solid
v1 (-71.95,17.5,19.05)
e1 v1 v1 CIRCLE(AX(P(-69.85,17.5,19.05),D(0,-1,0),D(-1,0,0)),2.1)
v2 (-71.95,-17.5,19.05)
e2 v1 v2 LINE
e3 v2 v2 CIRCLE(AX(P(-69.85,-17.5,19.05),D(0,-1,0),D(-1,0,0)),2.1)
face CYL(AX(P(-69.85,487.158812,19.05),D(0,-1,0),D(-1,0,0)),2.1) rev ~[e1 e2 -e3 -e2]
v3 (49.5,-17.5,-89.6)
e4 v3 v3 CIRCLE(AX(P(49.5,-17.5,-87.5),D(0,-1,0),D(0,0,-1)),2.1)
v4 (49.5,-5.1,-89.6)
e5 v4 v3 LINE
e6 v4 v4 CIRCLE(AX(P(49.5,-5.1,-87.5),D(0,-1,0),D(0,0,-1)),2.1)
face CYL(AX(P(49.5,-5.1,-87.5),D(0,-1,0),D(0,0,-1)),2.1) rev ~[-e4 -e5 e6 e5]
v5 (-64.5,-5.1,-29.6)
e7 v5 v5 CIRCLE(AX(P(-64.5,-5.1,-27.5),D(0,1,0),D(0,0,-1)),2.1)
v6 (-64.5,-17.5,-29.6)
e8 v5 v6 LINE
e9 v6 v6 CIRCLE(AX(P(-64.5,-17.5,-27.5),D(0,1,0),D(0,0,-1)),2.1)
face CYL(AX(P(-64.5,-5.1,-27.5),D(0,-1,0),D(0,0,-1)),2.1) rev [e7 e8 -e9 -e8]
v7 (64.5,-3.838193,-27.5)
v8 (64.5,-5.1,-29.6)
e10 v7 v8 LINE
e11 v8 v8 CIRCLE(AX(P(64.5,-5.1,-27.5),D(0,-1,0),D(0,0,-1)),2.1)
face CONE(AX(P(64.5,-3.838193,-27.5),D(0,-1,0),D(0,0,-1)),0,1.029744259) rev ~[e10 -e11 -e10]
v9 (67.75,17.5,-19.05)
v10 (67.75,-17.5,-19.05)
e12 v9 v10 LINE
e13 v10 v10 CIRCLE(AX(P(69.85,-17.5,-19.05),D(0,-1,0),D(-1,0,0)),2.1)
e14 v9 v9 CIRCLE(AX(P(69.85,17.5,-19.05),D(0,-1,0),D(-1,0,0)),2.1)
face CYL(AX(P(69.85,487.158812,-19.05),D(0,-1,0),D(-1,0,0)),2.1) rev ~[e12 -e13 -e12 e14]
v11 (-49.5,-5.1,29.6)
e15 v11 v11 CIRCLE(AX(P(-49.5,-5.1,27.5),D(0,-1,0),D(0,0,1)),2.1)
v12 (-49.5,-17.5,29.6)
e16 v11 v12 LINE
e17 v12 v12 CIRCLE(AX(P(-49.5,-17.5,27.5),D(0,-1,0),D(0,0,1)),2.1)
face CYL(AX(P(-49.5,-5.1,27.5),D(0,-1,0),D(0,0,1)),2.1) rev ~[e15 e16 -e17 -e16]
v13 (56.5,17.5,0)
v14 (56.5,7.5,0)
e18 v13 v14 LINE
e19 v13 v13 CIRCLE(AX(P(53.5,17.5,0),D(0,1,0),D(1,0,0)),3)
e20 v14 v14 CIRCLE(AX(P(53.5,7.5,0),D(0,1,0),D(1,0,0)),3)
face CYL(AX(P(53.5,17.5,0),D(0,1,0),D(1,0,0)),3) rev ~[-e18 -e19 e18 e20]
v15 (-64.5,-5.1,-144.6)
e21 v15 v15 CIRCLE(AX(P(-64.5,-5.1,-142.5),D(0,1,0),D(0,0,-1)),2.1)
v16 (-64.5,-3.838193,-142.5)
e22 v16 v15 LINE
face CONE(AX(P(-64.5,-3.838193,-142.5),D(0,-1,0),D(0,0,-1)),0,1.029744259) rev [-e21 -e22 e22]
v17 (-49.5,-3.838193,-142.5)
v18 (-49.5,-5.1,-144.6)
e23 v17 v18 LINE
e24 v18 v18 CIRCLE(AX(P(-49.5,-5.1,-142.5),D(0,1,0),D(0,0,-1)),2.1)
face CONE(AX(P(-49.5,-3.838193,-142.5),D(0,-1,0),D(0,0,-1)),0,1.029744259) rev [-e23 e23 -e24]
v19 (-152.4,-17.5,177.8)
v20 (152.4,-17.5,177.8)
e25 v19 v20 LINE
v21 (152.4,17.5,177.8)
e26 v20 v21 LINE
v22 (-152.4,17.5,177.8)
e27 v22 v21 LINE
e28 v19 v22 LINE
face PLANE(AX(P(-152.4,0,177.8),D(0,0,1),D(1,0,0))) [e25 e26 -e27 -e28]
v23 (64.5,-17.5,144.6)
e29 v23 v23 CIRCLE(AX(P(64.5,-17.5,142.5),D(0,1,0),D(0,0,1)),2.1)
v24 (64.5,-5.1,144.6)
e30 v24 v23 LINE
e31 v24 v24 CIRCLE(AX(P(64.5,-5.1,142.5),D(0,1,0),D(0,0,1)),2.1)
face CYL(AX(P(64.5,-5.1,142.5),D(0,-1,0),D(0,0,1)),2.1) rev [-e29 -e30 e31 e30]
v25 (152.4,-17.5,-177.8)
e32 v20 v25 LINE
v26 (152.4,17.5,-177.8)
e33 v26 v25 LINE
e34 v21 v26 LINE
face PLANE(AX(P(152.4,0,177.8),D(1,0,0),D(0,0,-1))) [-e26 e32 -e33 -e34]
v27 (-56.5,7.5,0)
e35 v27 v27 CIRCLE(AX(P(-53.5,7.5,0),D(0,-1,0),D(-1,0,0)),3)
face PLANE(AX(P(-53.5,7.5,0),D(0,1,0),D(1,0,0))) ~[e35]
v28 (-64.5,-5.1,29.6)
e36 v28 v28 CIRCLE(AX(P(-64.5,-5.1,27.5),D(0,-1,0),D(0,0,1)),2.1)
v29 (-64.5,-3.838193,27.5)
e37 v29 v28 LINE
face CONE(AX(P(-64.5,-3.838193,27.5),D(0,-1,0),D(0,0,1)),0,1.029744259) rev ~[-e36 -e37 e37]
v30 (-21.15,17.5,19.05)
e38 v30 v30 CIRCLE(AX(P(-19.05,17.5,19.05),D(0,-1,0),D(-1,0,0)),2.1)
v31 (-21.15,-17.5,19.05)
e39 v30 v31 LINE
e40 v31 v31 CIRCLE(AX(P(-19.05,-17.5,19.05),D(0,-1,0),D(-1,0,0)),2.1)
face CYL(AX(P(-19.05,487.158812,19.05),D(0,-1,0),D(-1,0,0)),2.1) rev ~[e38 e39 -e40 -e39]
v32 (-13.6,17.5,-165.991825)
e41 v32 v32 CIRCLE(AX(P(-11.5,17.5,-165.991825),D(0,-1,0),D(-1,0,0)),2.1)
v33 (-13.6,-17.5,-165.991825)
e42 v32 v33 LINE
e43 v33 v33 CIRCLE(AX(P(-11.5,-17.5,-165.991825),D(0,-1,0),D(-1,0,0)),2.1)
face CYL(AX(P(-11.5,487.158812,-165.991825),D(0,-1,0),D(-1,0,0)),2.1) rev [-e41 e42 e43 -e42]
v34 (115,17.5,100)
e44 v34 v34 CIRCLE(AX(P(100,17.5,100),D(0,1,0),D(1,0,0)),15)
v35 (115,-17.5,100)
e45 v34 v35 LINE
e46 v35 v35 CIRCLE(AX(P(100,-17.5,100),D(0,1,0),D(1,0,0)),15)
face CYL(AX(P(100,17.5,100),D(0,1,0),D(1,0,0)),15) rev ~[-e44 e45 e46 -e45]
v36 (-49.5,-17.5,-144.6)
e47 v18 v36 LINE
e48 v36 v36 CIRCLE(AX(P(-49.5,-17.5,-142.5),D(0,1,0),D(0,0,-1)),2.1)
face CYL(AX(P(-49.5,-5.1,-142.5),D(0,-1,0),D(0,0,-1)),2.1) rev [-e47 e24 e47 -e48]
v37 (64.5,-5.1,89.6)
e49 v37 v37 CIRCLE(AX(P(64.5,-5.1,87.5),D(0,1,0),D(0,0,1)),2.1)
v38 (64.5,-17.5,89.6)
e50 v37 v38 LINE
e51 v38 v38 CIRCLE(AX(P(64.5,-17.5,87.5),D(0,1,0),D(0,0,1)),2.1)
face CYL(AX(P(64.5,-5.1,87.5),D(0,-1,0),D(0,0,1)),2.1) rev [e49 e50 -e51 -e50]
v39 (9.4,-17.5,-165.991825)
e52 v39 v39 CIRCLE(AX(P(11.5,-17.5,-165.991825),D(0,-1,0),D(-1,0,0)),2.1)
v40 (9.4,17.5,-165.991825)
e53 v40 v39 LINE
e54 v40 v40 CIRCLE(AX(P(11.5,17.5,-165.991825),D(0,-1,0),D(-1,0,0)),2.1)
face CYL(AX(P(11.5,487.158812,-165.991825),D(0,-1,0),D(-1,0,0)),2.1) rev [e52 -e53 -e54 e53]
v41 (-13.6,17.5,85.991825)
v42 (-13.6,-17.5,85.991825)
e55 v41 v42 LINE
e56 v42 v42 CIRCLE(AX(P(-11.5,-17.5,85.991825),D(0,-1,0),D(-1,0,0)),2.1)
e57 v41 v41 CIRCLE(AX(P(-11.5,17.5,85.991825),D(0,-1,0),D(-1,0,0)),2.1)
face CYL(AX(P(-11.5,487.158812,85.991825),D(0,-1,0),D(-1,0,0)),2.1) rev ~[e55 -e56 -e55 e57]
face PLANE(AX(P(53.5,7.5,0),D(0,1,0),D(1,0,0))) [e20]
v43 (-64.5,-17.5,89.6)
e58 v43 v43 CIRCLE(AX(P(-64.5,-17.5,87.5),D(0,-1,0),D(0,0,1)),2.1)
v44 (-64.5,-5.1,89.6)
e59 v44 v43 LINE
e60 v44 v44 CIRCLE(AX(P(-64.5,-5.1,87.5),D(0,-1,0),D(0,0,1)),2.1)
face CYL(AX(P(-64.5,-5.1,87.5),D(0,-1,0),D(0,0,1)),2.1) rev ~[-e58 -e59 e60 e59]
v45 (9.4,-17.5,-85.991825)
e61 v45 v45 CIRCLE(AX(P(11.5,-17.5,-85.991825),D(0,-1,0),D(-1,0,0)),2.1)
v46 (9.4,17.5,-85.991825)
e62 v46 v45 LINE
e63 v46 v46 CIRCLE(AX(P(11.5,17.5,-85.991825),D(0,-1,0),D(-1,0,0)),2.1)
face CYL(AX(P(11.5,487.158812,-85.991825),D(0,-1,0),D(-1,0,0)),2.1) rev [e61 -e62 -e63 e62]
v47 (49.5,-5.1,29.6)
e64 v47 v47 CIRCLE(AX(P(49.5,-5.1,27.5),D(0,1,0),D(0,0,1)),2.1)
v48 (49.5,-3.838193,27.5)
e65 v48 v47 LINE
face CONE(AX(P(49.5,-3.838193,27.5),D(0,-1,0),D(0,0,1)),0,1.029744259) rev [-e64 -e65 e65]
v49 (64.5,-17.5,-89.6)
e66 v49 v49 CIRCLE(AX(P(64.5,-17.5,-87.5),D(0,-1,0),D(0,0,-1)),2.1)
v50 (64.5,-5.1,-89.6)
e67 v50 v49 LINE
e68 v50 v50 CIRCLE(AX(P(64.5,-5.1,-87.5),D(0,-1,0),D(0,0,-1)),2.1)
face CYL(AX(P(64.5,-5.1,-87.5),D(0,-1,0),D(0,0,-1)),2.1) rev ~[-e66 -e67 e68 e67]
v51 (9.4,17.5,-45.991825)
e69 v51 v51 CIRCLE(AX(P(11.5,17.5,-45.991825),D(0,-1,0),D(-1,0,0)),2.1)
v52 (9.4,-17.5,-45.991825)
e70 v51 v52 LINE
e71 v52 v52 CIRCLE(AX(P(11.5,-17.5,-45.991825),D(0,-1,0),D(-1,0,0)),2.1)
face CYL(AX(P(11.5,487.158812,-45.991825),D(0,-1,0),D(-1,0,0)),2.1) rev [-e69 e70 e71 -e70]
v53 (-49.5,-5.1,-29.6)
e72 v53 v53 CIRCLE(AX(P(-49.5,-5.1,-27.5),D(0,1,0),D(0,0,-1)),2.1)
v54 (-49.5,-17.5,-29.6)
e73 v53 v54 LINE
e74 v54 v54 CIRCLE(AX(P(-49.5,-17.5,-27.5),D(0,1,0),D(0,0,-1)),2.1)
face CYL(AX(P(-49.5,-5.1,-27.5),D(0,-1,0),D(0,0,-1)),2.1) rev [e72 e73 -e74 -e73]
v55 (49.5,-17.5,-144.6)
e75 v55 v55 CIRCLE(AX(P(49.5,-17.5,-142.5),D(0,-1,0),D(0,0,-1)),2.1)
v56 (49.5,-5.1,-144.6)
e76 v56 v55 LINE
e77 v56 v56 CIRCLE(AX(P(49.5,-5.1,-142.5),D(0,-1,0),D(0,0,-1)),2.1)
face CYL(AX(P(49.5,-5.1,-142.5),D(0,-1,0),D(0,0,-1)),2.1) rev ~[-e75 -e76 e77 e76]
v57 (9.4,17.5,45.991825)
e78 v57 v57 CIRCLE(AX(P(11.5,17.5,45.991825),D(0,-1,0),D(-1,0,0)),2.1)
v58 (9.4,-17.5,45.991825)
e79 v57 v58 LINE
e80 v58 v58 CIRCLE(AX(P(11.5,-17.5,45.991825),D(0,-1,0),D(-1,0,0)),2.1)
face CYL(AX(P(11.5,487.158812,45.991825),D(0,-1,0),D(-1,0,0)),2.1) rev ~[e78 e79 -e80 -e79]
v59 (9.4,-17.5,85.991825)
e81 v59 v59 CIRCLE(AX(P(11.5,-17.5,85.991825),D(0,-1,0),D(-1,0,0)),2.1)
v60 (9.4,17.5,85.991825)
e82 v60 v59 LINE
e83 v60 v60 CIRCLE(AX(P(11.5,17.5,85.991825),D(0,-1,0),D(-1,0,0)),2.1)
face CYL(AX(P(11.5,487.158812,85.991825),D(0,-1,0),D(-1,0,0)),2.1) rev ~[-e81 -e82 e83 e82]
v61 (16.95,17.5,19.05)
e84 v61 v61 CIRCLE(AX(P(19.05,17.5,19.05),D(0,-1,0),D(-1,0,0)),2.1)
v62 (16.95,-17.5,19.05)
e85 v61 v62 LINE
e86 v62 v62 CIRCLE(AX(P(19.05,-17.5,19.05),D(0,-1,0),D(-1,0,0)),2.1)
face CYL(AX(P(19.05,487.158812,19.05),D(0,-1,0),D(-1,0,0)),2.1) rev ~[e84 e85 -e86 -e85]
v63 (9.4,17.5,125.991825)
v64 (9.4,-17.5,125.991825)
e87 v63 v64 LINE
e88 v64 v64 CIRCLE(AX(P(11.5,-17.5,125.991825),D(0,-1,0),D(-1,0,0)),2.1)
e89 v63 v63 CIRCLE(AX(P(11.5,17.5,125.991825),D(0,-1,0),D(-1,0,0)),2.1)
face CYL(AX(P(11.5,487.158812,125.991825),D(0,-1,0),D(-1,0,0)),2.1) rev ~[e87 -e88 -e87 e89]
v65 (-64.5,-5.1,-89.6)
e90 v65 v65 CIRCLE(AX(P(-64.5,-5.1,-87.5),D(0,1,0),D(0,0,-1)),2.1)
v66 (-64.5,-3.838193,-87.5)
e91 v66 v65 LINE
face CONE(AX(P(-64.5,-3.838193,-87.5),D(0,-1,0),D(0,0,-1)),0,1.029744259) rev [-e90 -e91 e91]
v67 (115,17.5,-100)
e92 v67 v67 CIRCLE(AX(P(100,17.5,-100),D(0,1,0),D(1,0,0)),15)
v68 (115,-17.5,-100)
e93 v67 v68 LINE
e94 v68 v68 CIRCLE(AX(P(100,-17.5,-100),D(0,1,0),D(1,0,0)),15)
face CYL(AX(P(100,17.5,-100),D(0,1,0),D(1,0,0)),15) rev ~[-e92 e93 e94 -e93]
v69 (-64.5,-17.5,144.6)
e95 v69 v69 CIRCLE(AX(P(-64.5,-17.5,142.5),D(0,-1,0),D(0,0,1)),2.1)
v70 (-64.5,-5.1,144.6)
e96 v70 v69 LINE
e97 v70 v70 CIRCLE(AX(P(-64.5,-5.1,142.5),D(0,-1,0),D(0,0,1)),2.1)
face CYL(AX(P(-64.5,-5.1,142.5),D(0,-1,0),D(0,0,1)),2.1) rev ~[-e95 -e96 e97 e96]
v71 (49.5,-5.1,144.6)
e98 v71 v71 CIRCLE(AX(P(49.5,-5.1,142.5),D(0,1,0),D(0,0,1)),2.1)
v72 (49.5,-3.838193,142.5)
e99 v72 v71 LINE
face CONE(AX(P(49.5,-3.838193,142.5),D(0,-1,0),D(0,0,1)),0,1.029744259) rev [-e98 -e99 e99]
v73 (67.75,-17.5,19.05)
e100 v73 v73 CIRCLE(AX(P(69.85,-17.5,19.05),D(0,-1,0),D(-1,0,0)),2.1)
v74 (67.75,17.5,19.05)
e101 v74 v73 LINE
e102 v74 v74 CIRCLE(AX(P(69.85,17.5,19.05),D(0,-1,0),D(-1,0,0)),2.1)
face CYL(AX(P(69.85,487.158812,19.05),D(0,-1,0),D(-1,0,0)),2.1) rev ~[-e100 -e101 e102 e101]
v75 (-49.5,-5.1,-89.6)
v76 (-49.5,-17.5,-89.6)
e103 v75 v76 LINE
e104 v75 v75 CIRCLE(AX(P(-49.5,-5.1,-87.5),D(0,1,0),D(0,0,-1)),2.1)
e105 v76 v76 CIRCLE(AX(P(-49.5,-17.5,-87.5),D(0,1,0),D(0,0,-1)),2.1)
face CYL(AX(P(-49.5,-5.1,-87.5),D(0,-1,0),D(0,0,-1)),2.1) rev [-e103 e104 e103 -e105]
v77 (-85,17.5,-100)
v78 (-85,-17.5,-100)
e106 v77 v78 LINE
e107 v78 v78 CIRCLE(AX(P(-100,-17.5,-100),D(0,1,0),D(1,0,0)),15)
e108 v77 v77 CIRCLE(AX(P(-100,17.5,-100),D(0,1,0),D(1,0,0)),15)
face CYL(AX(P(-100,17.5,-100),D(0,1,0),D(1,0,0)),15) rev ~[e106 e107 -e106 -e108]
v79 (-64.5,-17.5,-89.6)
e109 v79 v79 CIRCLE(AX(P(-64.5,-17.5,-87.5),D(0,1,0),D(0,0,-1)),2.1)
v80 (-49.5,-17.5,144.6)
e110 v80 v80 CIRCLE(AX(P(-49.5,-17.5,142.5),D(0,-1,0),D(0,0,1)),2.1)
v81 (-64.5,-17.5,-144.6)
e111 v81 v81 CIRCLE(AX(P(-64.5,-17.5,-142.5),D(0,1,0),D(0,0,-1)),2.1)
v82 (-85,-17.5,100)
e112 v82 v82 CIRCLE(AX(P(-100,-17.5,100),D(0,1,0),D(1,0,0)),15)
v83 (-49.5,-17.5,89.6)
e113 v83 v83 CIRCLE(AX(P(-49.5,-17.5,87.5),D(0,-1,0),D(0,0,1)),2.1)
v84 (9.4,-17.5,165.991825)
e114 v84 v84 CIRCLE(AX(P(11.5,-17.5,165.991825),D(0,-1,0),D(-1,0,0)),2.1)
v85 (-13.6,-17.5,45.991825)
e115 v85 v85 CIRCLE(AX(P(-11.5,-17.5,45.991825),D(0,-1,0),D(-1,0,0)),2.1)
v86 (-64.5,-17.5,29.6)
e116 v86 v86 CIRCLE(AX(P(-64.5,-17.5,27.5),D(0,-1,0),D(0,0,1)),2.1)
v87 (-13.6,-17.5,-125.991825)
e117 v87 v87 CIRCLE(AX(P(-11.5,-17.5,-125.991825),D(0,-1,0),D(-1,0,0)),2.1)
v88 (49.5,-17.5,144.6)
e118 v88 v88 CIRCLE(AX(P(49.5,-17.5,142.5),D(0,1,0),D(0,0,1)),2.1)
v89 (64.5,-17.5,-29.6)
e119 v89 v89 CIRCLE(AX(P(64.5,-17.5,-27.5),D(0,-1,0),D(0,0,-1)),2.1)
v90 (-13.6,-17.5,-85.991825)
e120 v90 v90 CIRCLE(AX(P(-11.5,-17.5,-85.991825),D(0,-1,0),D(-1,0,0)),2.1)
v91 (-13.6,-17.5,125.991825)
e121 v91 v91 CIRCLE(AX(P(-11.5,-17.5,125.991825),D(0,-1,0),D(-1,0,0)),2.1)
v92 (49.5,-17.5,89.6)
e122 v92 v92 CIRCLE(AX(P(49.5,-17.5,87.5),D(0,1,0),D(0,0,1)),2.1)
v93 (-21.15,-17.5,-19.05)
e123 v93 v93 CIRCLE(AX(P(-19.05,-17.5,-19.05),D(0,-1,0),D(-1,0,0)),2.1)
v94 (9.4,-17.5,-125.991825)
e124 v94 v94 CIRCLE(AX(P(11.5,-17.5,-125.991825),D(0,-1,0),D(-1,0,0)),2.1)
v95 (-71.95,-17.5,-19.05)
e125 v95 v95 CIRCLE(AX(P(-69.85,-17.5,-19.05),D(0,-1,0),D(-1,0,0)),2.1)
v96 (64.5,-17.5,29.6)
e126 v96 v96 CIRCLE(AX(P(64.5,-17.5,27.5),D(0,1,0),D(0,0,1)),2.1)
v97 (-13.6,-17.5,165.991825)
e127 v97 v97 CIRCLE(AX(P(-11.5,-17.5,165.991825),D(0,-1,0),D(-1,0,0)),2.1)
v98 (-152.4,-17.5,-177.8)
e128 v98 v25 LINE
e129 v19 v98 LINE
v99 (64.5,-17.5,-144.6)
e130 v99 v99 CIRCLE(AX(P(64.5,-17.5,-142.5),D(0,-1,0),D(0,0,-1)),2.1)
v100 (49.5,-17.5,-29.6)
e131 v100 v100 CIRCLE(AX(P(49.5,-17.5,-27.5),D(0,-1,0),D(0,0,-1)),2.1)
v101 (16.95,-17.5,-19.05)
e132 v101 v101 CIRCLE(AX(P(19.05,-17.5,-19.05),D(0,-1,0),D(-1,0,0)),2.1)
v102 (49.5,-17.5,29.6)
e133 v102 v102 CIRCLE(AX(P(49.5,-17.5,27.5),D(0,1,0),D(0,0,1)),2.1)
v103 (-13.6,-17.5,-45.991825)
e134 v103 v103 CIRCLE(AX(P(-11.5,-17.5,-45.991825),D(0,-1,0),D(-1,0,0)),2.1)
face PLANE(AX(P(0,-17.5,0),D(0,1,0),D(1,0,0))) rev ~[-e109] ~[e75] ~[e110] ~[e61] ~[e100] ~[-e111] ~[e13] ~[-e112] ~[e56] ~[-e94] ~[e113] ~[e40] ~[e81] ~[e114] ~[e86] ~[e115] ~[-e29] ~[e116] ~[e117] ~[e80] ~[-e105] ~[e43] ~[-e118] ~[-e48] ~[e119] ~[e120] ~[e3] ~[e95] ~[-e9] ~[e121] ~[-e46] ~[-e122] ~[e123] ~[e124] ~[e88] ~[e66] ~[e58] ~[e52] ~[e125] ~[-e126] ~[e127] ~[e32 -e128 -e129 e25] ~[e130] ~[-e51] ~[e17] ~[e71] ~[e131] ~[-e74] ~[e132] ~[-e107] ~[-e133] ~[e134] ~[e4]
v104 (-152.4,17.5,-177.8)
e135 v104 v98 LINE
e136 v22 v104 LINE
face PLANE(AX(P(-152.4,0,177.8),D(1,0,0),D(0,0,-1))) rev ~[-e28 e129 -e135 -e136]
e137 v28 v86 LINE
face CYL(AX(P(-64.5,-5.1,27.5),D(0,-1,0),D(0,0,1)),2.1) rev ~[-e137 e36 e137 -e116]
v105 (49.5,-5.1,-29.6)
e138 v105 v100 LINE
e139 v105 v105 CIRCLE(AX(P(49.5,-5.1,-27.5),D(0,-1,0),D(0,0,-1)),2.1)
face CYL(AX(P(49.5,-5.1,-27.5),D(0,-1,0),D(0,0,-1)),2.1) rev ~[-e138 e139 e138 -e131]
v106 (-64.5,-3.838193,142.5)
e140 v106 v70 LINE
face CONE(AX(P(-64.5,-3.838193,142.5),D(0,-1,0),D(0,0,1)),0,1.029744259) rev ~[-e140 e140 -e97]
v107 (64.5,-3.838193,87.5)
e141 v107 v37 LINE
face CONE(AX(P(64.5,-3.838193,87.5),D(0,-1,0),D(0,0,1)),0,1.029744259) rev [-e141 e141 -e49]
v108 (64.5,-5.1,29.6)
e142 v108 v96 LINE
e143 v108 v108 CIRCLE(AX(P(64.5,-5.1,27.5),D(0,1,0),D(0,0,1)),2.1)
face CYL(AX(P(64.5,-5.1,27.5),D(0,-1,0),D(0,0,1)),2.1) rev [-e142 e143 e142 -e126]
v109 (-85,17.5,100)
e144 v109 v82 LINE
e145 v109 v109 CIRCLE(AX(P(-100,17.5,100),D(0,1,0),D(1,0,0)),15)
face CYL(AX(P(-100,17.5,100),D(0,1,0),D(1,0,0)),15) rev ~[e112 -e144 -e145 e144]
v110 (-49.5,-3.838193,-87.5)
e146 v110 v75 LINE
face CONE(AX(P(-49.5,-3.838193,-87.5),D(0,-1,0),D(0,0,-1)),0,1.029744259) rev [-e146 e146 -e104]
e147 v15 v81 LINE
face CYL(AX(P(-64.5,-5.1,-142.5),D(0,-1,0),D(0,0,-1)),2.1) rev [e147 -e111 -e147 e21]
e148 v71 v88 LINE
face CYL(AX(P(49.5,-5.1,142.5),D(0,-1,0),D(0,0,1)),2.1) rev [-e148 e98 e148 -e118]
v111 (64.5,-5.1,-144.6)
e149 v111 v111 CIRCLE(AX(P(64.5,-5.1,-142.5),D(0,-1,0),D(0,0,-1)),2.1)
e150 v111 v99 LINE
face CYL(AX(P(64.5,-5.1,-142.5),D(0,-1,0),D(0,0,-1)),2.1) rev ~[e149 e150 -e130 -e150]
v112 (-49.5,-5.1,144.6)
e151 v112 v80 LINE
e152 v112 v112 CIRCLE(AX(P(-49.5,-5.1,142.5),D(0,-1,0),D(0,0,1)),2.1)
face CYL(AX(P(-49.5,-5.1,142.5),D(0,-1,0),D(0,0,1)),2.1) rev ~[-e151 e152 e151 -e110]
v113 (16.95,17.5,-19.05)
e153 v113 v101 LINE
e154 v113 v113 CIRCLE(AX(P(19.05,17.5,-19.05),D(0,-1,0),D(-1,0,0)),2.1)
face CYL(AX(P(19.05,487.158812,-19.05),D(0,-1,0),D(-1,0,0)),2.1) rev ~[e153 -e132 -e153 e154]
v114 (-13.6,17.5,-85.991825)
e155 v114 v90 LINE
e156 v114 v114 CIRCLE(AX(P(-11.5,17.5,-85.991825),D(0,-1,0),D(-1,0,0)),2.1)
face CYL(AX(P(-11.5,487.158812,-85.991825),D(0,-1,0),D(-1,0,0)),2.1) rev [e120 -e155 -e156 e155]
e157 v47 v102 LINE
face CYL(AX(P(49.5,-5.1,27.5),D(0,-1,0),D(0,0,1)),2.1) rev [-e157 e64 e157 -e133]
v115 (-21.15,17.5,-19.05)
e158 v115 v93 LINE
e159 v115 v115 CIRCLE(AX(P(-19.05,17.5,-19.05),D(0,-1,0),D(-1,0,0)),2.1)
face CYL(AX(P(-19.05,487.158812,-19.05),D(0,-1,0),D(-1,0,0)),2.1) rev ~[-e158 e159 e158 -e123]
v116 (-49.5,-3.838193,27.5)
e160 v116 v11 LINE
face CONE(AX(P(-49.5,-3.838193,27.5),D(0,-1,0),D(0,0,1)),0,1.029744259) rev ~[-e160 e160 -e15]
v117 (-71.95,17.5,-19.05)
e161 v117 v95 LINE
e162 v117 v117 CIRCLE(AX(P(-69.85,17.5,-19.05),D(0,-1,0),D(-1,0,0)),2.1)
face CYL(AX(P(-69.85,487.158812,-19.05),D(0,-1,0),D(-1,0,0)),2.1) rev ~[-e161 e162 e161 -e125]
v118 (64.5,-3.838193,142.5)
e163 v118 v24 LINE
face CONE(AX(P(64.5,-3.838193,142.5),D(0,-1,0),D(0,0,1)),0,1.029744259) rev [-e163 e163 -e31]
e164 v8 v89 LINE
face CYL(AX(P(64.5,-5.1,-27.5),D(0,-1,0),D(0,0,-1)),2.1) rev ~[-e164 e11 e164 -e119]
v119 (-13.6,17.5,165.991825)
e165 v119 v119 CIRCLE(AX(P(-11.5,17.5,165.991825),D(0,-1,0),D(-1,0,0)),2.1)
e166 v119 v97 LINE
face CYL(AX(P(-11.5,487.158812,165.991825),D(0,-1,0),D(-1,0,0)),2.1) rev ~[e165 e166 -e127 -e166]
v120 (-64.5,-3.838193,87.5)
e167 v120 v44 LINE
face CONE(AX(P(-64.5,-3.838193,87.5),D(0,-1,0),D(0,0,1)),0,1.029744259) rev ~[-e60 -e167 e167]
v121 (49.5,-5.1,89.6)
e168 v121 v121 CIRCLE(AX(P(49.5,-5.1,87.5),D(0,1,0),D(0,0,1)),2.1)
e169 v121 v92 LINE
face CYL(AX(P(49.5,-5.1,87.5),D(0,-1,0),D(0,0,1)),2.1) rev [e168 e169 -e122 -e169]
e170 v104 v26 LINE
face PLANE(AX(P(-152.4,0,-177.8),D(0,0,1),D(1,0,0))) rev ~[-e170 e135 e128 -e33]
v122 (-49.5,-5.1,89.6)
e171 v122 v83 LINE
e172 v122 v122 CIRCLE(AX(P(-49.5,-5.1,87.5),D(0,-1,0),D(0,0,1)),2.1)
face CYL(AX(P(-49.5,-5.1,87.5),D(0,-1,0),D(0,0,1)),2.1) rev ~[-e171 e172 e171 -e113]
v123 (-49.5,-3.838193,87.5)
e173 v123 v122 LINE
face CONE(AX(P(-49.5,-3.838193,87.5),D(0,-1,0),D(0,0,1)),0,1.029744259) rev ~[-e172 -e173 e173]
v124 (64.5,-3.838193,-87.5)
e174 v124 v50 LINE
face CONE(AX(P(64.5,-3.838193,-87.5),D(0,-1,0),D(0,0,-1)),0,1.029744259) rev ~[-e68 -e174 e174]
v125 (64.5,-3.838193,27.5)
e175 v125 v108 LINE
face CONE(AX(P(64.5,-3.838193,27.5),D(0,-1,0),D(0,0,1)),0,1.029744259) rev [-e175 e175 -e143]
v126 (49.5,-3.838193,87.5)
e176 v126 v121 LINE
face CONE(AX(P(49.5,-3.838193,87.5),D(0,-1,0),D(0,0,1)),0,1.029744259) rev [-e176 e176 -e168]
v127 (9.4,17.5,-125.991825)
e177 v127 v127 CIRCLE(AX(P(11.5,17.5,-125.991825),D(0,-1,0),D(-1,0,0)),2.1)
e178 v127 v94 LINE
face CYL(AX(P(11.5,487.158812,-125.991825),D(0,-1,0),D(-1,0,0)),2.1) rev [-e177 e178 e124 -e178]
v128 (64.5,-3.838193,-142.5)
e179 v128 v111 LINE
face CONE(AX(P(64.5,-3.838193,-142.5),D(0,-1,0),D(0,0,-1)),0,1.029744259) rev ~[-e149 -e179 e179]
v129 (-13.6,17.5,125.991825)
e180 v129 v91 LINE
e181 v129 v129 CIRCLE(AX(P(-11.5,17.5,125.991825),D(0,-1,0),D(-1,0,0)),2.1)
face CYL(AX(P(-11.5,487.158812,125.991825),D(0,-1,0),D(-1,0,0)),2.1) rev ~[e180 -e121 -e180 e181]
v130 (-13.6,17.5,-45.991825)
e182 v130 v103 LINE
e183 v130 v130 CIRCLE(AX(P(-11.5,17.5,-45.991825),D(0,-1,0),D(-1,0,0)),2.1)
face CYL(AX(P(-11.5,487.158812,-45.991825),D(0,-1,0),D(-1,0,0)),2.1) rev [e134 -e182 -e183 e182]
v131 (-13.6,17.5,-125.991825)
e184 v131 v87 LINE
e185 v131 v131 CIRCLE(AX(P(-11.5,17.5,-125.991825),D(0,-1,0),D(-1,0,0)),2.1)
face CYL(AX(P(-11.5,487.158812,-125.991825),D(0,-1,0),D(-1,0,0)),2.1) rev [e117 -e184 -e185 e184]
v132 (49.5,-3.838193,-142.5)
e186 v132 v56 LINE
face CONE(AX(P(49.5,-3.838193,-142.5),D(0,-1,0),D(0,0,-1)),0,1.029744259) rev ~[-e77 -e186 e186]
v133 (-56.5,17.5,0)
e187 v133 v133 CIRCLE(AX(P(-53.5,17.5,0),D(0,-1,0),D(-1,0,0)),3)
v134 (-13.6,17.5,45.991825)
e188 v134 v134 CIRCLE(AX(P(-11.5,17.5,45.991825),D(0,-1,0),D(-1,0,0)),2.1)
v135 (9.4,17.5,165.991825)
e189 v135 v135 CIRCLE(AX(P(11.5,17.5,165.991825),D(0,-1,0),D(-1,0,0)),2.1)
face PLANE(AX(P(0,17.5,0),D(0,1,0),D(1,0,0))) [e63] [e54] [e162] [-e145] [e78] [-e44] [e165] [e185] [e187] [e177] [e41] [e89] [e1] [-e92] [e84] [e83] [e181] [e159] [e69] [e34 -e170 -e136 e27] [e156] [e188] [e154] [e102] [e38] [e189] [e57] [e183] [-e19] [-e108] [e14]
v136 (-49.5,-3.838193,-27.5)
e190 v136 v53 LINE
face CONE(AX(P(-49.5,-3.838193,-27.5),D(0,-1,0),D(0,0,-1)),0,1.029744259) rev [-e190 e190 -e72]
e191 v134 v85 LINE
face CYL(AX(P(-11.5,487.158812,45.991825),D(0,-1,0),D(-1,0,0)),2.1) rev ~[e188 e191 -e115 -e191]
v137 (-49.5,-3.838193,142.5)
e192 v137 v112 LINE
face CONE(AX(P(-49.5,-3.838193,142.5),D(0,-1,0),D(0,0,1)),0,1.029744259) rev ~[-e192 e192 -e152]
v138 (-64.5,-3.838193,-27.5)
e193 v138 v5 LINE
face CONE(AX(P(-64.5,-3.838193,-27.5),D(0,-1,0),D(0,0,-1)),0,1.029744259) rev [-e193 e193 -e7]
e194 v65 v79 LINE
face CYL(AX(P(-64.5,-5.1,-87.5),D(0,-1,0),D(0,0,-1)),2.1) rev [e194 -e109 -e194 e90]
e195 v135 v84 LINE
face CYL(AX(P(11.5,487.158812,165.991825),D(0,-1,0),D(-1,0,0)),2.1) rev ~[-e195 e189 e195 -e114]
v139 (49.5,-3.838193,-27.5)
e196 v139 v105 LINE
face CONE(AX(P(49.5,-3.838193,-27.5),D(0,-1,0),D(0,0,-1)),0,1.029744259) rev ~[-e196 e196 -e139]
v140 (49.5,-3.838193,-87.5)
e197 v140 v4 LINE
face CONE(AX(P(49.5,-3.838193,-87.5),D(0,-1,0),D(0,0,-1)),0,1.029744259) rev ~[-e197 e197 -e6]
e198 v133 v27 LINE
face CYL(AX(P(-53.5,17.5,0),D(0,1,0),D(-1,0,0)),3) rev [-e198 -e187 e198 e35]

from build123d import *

# Parameters (mm, degrees)
SKETCH2_W                      = 304.8
SKETCH2_H                      = 355.6
MAINBASE_EXTRUDE_DEPTH         = 17.5
SKETCH3_R                      = 15
HOLES_POLE_DEPTH               = 36
M5X0_8_TAPPED_HOLE1_D          = 4.2
M5X0_8_TAPPED_HOLE2_D          = 4.2
M5X0_8_TAPPED_HOLE3_AT_2_COUNT = 2
M5X0_8_TAPPED_HOLE3_AT_2_PITCH = 15
M5X0_8_TAPPED_HOLE3_AT_3_COUNT = 2
M5X0_8_TAPPED_HOLE3_AT_3_PITCH = 57.008771255
M5X0_8_TAPPED_HOLE3_AT_4_COUNT = 2
M5X0_8_TAPPED_HOLE3_AT_4_PITCH = 55
M5X0_8_TAPPED_HOLE3_AT_5_COUNT = 2
M5X0_8_TAPPED_HOLE3_AT_5_PITCH = 115.974135047
M5X0_8_TAPPED_HOLE3_AT_6_COUNT = 2
M5X0_8_TAPPED_HOLE3_AT_6_PITCH = 115
SKETCH14_R                     = 3
CUT_EXTRUDE1_DEPTH             = 10


with BuildPart() as part:
    # Sketch2 → MainBase_Extrude (new body, symmetric)
    with BuildSketch(Plane(origin=(0, 0, 0), x_dir=(1, 0, 0), z_dir=(0, 1, 0))):
        Rectangle(SKETCH2_W, SKETCH2_H)
    extrude(amount=MAINBASE_EXTRUDE_DEPTH, both=True)

    # Sketch3 → Holes_Pole (cut, through all)
    with BuildSketch(Plane(origin=(0, 17.5, 0), x_dir=(1, 0, 0), z_dir=(0, 1, 0))):
        with Locations((-100, 100)):
            Circle(SKETCH3_R)
        with Locations((100, 100)):
            Circle(SKETCH3_R)
        with Locations((100, -100)):
            Circle(SKETCH3_R)
        with Locations((-100, -100)):
            Circle(SKETCH3_R)
    extrude(amount=-HOLES_POLE_DEPTH, mode=Mode.SUBTRACT)

    # M5x0.8 Tapped Hole1 (through all)
    with Locations(Plane(origin=(0, 17.5, 0), x_dir=(1, 0, 0), z_dir=(0, 1, 0))):
        with Locations((-69.85, 19.05), (-19.05, 19.05), (-19.05, -19.05), (-69.85, -19.05), (19.05, 19.05), (19.05, -19.05), (69.85, -19.05), (69.85, 19.05)):
            Hole(M5X0_8_TAPPED_HOLE1_D / 2)

    # M5x0.8 Tapped Hole2 (through all)
    with Locations(Plane(origin=(0, 17.5, 0), x_dir=(1, 0, 0), z_dir=(0, 1, 0))):
        with Locations((-11.5, -45.9918251), (11.5, -45.9918251), (11.5, -85.9918251), (-11.5, -85.9918251), (-11.5, -125.9918251), (11.5, -125.9918251), (-11.5, -165.9918251), (11.5, -165.9918251)):
            m5x0_8_tapped_hole2 = Hole(M5X0_8_TAPPED_HOLE2_D / 2)

    # Mirror1: M5x0.8 Tapped Hole2 across plane
    add(m5x0_8_tapped_hole2.mirror(Plane.XY), mode=Mode.SUBTRACT)

    # Sketch12 → M5x0.8 Tapped Hole3 (revolve, cut)
    with BuildSketch(Plane(origin=(-64.5, -17.5, -142.5), x_dir=(0, 0, -1), z_dir=(1, 0, 0))):
        Polygon((0, 0), (0, 13.6618073), (2.1, 12.4), (2.1, 0), align=None)
    m5x0_8_tapped_hole3 = revolve(axis=Axis((-64.5, -23.85, -142.5), (0, 1, 0)), mode=Mode.SUBTRACT)

    # M5x0.8 Tapped Hole3 at 2: M5x0.8 Tapped Hole3 ×2
    with Locations(*[(i * M5X0_8_TAPPED_HOLE3_AT_2_PITCH, 0, 0) for i in range(1, M5X0_8_TAPPED_HOLE3_AT_2_COUNT)]):
        add(m5x0_8_tapped_hole3, mode=Mode.SUBTRACT)

    # M5x0.8 Tapped Hole3 at 3: M5x0.8 Tapped Hole3 ×2
    with Locations(*[Vector(0.263117406, 0, 0.964763821) * (i * M5X0_8_TAPPED_HOLE3_AT_3_PITCH) for i in range(1, M5X0_8_TAPPED_HOLE3_AT_3_COUNT)]):
        add(m5x0_8_tapped_hole3, mode=Mode.SUBTRACT)

    # M5x0.8 Tapped Hole3 at 4: M5x0.8 Tapped Hole3 ×2
    with Locations(*[(0, 0, i * M5X0_8_TAPPED_HOLE3_AT_4_PITCH) for i in range(1, M5X0_8_TAPPED_HOLE3_AT_4_COUNT)]):
        add(m5x0_8_tapped_hole3, mode=Mode.SUBTRACT)

    # M5x0.8 Tapped Hole3 at 5: M5x0.8 Tapped Hole3 ×2
    with Locations(*[Vector(0.129339184, 0, 0.991600411) * (i * M5X0_8_TAPPED_HOLE3_AT_5_PITCH) for i in range(1, M5X0_8_TAPPED_HOLE3_AT_5_COUNT)]):
        add(m5x0_8_tapped_hole3, mode=Mode.SUBTRACT)

    # M5x0.8 Tapped Hole3 at 6: M5x0.8 Tapped Hole3 ×2
    with Locations(*[(0, 0, i * M5X0_8_TAPPED_HOLE3_AT_6_PITCH) for i in range(1, M5X0_8_TAPPED_HOLE3_AT_6_COUNT)]):
        add(m5x0_8_tapped_hole3, mode=Mode.SUBTRACT)

    # Mirror2: M5x0.8 Tapped Hole3 across plane
    add(m5x0_8_tapped_hole3.mirror(Plane.XY), mode=Mode.SUBTRACT)

    # Mirror2 copy 1 sketch → Mirror2 copy 1 (revolve, cut)
    with BuildSketch(Plane(origin=(-49.5, -17.5, 142.5), x_dir=(0, 0, 1), z_dir=(1, 0, 0))):
        Polygon((0, 0), (0, -13.6618073), (2.1, -12.4), (2.1, 0), align=None)
    revolve(axis=Axis((-49.5, -23.85, 142.5), (0, -1, 0)), mode=Mode.SUBTRACT)

    # Mirror2 copy 2 sketch → Mirror2 copy 2 (revolve, cut)
    with BuildSketch(Plane(origin=(-49.5, -17.5, 87.5), x_dir=(0, 0, 1), z_dir=(1, 0, 0))):
        Polygon((0, 0), (0, -13.6618073), (2.1, -12.4), (2.1, 0), align=None)
    revolve(axis=Axis((-49.5, -23.85, 87.5), (0, -1, 0)), mode=Mode.SUBTRACT)

    # Mirror2 copy 3 sketch → Mirror2 copy 3 (revolve, cut)
    with BuildSketch(Plane(origin=(-64.5, -17.5, 87.5), x_dir=(0, 0, 1), z_dir=(1, 0, 0))):
        Polygon((0, 0), (0, -13.6618073), (2.1, -12.4), (2.1, 0), align=None)
    revolve(axis=Axis((-64.5, -23.85, 87.5), (0, -1, 0)), mode=Mode.SUBTRACT)

    # Mirror2 copy 4 sketch → Mirror2 copy 4 (revolve, cut)
    with BuildSketch(Plane(origin=(-49.5, -17.5, 27.5), x_dir=(0, 0, 1), z_dir=(1, 0, 0))):
        Polygon((0, 0), (0, -13.6618073), (2.1, -12.4), (2.1, 0), align=None)
    revolve(axis=Axis((-49.5, -23.85, 27.5), (0, -1, 0)), mode=Mode.SUBTRACT)

    # Mirror2 copy 5 sketch → Mirror2 copy 5 (revolve, cut)
    with BuildSketch(Plane(origin=(-64.5, -17.5, 27.5), x_dir=(0, 0, 1), z_dir=(1, 0, 0))):
        Polygon((0, 0), (0, -13.6618073), (2.1, -12.4), (2.1, 0), align=None)
    revolve(axis=Axis((-64.5, -23.85, 27.5), (0, -1, 0)), mode=Mode.SUBTRACT)

    # Mirror3: M5x0.8 Tapped Hole3 across plane
    add(m5x0_8_tapped_hole3.mirror(Plane(origin=(0, 0, 0), x_dir=(0, 0, 1), z_dir=(1, 0, 0))), mode=Mode.SUBTRACT)

    # Mirror3 copy 1 sketch → Mirror3 copy 1 (revolve, cut)
    with BuildSketch(Plane(origin=(64.5, -17.5, 142.5), x_dir=(0, 0, 1), z_dir=(-1, 0, 0))):
        Polygon((0, 0), (0, 13.6618073), (2.1, 12.4), (2.1, 0), align=None)
    revolve(axis=Axis((64.5, -23.85, 142.5), (0, 1, 0)), mode=Mode.SUBTRACT)

    # Mirror3 copy 2 sketch → Mirror3 copy 2 (revolve, cut)
    with BuildSketch(Plane(origin=(49.5, -17.5, 142.5), x_dir=(0, 0, 1), z_dir=(-1, 0, 0))):
        Polygon((0, 0), (0, 13.6618073), (2.1, 12.4), (2.1, 0), align=None)
    revolve(axis=Axis((49.5, -23.85, 142.5), (0, 1, 0)), mode=Mode.SUBTRACT)

    # Mirror3 copy 3 sketch → Mirror3 copy 3 (revolve, cut)
    with BuildSketch(Plane(origin=(49.5, -17.5, 87.5), x_dir=(0, 0, 1), z_dir=(-1, 0, 0))):
        Polygon((0, 0), (0, 13.6618073), (2.1, 12.4), (2.1, 0), align=None)
    revolve(axis=Axis((49.5, -23.85, 87.5), (0, 1, 0)), mode=Mode.SUBTRACT)

    # Mirror3 copy 4 sketch → Mirror3 copy 4 (revolve, cut)
    with BuildSketch(Plane(origin=(64.5, -17.5, 87.5), x_dir=(0, 0, 1), z_dir=(-1, 0, 0))):
        Polygon((0, 0), (0, 13.6618073), (2.1, 12.4), (2.1, 0), align=None)
    revolve(axis=Axis((64.5, -23.85, 87.5), (0, 1, 0)), mode=Mode.SUBTRACT)

    # Mirror3 copy 5 sketch → Mirror3 copy 5 (revolve, cut)
    with BuildSketch(Plane(origin=(49.5, -17.5, 27.5), x_dir=(0, 0, 1), z_dir=(-1, 0, 0))):
        Polygon((0, 0), (0, 13.6618073), (2.1, 12.4), (2.1, 0), align=None)
    revolve(axis=Axis((49.5, -23.85, 27.5), (0, 1, 0)), mode=Mode.SUBTRACT)

    # Mirror3 copy 6 sketch → Mirror3 copy 6 (revolve, cut)
    with BuildSketch(Plane(origin=(64.5, -17.5, 27.5), x_dir=(0, 0, 1), z_dir=(-1, 0, 0))):
        Polygon((0, 0), (0, 13.6618073), (2.1, 12.4), (2.1, 0), align=None)
    revolve(axis=Axis((64.5, -23.85, 27.5), (0, 1, 0)), mode=Mode.SUBTRACT)

    # Mirror3 copy 7 sketch → Mirror3 copy 7 (revolve, cut)
    with BuildSketch(Plane(origin=(49.5, -17.5, -142.5), x_dir=(0, 0, -1), z_dir=(-1, 0, 0))):
        Polygon((0, 0), (0, -13.6618073), (2.1, -12.4), (2.1, 0), align=None)
    revolve(axis=Axis((49.5, -23.85, -142.5), (0, -1, 0)), mode=Mode.SUBTRACT)

    # Mirror3 copy 8 sketch → Mirror3 copy 8 (revolve, cut)
    with BuildSketch(Plane(origin=(49.5, -17.5, -87.5), x_dir=(0, 0, -1), z_dir=(-1, 0, 0))):
        Polygon((0, 0), (0, -13.6618073), (2.1, -12.4), (2.1, 0), align=None)
    revolve(axis=Axis((49.5, -23.85, -87.5), (0, -1, 0)), mode=Mode.SUBTRACT)

    # Mirror3 copy 9 sketch → Mirror3 copy 9 (revolve, cut)
    with BuildSketch(Plane(origin=(64.5, -17.5, -87.5), x_dir=(0, 0, -1), z_dir=(-1, 0, 0))):
        Polygon((0, 0), (0, -13.6618073), (2.1, -12.4), (2.1, 0), align=None)
    revolve(axis=Axis((64.5, -23.85, -87.5), (0, -1, 0)), mode=Mode.SUBTRACT)

    # Mirror3 copy 10 sketch → Mirror3 copy 10 (revolve, cut)
    with BuildSketch(Plane(origin=(49.5, -17.5, -27.5), x_dir=(0, 0, -1), z_dir=(-1, 0, 0))):
        Polygon((0, 0), (0, -13.6618073), (2.1, -12.4), (2.1, 0), align=None)
    revolve(axis=Axis((49.5, -23.85, -27.5), (0, -1, 0)), mode=Mode.SUBTRACT)

    # Mirror3 copy 11 sketch → Mirror3 copy 11 (revolve, cut)
    with BuildSketch(Plane(origin=(64.5, -17.5, -27.5), x_dir=(0, 0, -1), z_dir=(-1, 0, 0))):
        Polygon((0, 0), (0, -13.6618073), (2.1, -12.4), (2.1, 0), align=None)
    revolve(axis=Axis((64.5, -23.85, -27.5), (0, -1, 0)), mode=Mode.SUBTRACT)

    # Sketch14 → Cut-Extrude1 (cut)
    with BuildSketch(Plane(origin=(0, 17.5, 0), x_dir=(1, 0, 0), z_dir=(0, 1, 0))):
        with Locations((53.5, 0)):
            Circle(SKETCH14_R)
    cut_extrude1 = extrude(amount=-CUT_EXTRUDE1_DEPTH, mode=Mode.SUBTRACT)

    # Mirror4: Cut-Extrude1 across plane
    add(cut_extrude1.mirror(Plane(origin=(0, 0, 0), x_dir=(0, 0, 1), z_dir=(1, 0, 0))), mode=Mode.SUBTRACT)


solid = part.part
